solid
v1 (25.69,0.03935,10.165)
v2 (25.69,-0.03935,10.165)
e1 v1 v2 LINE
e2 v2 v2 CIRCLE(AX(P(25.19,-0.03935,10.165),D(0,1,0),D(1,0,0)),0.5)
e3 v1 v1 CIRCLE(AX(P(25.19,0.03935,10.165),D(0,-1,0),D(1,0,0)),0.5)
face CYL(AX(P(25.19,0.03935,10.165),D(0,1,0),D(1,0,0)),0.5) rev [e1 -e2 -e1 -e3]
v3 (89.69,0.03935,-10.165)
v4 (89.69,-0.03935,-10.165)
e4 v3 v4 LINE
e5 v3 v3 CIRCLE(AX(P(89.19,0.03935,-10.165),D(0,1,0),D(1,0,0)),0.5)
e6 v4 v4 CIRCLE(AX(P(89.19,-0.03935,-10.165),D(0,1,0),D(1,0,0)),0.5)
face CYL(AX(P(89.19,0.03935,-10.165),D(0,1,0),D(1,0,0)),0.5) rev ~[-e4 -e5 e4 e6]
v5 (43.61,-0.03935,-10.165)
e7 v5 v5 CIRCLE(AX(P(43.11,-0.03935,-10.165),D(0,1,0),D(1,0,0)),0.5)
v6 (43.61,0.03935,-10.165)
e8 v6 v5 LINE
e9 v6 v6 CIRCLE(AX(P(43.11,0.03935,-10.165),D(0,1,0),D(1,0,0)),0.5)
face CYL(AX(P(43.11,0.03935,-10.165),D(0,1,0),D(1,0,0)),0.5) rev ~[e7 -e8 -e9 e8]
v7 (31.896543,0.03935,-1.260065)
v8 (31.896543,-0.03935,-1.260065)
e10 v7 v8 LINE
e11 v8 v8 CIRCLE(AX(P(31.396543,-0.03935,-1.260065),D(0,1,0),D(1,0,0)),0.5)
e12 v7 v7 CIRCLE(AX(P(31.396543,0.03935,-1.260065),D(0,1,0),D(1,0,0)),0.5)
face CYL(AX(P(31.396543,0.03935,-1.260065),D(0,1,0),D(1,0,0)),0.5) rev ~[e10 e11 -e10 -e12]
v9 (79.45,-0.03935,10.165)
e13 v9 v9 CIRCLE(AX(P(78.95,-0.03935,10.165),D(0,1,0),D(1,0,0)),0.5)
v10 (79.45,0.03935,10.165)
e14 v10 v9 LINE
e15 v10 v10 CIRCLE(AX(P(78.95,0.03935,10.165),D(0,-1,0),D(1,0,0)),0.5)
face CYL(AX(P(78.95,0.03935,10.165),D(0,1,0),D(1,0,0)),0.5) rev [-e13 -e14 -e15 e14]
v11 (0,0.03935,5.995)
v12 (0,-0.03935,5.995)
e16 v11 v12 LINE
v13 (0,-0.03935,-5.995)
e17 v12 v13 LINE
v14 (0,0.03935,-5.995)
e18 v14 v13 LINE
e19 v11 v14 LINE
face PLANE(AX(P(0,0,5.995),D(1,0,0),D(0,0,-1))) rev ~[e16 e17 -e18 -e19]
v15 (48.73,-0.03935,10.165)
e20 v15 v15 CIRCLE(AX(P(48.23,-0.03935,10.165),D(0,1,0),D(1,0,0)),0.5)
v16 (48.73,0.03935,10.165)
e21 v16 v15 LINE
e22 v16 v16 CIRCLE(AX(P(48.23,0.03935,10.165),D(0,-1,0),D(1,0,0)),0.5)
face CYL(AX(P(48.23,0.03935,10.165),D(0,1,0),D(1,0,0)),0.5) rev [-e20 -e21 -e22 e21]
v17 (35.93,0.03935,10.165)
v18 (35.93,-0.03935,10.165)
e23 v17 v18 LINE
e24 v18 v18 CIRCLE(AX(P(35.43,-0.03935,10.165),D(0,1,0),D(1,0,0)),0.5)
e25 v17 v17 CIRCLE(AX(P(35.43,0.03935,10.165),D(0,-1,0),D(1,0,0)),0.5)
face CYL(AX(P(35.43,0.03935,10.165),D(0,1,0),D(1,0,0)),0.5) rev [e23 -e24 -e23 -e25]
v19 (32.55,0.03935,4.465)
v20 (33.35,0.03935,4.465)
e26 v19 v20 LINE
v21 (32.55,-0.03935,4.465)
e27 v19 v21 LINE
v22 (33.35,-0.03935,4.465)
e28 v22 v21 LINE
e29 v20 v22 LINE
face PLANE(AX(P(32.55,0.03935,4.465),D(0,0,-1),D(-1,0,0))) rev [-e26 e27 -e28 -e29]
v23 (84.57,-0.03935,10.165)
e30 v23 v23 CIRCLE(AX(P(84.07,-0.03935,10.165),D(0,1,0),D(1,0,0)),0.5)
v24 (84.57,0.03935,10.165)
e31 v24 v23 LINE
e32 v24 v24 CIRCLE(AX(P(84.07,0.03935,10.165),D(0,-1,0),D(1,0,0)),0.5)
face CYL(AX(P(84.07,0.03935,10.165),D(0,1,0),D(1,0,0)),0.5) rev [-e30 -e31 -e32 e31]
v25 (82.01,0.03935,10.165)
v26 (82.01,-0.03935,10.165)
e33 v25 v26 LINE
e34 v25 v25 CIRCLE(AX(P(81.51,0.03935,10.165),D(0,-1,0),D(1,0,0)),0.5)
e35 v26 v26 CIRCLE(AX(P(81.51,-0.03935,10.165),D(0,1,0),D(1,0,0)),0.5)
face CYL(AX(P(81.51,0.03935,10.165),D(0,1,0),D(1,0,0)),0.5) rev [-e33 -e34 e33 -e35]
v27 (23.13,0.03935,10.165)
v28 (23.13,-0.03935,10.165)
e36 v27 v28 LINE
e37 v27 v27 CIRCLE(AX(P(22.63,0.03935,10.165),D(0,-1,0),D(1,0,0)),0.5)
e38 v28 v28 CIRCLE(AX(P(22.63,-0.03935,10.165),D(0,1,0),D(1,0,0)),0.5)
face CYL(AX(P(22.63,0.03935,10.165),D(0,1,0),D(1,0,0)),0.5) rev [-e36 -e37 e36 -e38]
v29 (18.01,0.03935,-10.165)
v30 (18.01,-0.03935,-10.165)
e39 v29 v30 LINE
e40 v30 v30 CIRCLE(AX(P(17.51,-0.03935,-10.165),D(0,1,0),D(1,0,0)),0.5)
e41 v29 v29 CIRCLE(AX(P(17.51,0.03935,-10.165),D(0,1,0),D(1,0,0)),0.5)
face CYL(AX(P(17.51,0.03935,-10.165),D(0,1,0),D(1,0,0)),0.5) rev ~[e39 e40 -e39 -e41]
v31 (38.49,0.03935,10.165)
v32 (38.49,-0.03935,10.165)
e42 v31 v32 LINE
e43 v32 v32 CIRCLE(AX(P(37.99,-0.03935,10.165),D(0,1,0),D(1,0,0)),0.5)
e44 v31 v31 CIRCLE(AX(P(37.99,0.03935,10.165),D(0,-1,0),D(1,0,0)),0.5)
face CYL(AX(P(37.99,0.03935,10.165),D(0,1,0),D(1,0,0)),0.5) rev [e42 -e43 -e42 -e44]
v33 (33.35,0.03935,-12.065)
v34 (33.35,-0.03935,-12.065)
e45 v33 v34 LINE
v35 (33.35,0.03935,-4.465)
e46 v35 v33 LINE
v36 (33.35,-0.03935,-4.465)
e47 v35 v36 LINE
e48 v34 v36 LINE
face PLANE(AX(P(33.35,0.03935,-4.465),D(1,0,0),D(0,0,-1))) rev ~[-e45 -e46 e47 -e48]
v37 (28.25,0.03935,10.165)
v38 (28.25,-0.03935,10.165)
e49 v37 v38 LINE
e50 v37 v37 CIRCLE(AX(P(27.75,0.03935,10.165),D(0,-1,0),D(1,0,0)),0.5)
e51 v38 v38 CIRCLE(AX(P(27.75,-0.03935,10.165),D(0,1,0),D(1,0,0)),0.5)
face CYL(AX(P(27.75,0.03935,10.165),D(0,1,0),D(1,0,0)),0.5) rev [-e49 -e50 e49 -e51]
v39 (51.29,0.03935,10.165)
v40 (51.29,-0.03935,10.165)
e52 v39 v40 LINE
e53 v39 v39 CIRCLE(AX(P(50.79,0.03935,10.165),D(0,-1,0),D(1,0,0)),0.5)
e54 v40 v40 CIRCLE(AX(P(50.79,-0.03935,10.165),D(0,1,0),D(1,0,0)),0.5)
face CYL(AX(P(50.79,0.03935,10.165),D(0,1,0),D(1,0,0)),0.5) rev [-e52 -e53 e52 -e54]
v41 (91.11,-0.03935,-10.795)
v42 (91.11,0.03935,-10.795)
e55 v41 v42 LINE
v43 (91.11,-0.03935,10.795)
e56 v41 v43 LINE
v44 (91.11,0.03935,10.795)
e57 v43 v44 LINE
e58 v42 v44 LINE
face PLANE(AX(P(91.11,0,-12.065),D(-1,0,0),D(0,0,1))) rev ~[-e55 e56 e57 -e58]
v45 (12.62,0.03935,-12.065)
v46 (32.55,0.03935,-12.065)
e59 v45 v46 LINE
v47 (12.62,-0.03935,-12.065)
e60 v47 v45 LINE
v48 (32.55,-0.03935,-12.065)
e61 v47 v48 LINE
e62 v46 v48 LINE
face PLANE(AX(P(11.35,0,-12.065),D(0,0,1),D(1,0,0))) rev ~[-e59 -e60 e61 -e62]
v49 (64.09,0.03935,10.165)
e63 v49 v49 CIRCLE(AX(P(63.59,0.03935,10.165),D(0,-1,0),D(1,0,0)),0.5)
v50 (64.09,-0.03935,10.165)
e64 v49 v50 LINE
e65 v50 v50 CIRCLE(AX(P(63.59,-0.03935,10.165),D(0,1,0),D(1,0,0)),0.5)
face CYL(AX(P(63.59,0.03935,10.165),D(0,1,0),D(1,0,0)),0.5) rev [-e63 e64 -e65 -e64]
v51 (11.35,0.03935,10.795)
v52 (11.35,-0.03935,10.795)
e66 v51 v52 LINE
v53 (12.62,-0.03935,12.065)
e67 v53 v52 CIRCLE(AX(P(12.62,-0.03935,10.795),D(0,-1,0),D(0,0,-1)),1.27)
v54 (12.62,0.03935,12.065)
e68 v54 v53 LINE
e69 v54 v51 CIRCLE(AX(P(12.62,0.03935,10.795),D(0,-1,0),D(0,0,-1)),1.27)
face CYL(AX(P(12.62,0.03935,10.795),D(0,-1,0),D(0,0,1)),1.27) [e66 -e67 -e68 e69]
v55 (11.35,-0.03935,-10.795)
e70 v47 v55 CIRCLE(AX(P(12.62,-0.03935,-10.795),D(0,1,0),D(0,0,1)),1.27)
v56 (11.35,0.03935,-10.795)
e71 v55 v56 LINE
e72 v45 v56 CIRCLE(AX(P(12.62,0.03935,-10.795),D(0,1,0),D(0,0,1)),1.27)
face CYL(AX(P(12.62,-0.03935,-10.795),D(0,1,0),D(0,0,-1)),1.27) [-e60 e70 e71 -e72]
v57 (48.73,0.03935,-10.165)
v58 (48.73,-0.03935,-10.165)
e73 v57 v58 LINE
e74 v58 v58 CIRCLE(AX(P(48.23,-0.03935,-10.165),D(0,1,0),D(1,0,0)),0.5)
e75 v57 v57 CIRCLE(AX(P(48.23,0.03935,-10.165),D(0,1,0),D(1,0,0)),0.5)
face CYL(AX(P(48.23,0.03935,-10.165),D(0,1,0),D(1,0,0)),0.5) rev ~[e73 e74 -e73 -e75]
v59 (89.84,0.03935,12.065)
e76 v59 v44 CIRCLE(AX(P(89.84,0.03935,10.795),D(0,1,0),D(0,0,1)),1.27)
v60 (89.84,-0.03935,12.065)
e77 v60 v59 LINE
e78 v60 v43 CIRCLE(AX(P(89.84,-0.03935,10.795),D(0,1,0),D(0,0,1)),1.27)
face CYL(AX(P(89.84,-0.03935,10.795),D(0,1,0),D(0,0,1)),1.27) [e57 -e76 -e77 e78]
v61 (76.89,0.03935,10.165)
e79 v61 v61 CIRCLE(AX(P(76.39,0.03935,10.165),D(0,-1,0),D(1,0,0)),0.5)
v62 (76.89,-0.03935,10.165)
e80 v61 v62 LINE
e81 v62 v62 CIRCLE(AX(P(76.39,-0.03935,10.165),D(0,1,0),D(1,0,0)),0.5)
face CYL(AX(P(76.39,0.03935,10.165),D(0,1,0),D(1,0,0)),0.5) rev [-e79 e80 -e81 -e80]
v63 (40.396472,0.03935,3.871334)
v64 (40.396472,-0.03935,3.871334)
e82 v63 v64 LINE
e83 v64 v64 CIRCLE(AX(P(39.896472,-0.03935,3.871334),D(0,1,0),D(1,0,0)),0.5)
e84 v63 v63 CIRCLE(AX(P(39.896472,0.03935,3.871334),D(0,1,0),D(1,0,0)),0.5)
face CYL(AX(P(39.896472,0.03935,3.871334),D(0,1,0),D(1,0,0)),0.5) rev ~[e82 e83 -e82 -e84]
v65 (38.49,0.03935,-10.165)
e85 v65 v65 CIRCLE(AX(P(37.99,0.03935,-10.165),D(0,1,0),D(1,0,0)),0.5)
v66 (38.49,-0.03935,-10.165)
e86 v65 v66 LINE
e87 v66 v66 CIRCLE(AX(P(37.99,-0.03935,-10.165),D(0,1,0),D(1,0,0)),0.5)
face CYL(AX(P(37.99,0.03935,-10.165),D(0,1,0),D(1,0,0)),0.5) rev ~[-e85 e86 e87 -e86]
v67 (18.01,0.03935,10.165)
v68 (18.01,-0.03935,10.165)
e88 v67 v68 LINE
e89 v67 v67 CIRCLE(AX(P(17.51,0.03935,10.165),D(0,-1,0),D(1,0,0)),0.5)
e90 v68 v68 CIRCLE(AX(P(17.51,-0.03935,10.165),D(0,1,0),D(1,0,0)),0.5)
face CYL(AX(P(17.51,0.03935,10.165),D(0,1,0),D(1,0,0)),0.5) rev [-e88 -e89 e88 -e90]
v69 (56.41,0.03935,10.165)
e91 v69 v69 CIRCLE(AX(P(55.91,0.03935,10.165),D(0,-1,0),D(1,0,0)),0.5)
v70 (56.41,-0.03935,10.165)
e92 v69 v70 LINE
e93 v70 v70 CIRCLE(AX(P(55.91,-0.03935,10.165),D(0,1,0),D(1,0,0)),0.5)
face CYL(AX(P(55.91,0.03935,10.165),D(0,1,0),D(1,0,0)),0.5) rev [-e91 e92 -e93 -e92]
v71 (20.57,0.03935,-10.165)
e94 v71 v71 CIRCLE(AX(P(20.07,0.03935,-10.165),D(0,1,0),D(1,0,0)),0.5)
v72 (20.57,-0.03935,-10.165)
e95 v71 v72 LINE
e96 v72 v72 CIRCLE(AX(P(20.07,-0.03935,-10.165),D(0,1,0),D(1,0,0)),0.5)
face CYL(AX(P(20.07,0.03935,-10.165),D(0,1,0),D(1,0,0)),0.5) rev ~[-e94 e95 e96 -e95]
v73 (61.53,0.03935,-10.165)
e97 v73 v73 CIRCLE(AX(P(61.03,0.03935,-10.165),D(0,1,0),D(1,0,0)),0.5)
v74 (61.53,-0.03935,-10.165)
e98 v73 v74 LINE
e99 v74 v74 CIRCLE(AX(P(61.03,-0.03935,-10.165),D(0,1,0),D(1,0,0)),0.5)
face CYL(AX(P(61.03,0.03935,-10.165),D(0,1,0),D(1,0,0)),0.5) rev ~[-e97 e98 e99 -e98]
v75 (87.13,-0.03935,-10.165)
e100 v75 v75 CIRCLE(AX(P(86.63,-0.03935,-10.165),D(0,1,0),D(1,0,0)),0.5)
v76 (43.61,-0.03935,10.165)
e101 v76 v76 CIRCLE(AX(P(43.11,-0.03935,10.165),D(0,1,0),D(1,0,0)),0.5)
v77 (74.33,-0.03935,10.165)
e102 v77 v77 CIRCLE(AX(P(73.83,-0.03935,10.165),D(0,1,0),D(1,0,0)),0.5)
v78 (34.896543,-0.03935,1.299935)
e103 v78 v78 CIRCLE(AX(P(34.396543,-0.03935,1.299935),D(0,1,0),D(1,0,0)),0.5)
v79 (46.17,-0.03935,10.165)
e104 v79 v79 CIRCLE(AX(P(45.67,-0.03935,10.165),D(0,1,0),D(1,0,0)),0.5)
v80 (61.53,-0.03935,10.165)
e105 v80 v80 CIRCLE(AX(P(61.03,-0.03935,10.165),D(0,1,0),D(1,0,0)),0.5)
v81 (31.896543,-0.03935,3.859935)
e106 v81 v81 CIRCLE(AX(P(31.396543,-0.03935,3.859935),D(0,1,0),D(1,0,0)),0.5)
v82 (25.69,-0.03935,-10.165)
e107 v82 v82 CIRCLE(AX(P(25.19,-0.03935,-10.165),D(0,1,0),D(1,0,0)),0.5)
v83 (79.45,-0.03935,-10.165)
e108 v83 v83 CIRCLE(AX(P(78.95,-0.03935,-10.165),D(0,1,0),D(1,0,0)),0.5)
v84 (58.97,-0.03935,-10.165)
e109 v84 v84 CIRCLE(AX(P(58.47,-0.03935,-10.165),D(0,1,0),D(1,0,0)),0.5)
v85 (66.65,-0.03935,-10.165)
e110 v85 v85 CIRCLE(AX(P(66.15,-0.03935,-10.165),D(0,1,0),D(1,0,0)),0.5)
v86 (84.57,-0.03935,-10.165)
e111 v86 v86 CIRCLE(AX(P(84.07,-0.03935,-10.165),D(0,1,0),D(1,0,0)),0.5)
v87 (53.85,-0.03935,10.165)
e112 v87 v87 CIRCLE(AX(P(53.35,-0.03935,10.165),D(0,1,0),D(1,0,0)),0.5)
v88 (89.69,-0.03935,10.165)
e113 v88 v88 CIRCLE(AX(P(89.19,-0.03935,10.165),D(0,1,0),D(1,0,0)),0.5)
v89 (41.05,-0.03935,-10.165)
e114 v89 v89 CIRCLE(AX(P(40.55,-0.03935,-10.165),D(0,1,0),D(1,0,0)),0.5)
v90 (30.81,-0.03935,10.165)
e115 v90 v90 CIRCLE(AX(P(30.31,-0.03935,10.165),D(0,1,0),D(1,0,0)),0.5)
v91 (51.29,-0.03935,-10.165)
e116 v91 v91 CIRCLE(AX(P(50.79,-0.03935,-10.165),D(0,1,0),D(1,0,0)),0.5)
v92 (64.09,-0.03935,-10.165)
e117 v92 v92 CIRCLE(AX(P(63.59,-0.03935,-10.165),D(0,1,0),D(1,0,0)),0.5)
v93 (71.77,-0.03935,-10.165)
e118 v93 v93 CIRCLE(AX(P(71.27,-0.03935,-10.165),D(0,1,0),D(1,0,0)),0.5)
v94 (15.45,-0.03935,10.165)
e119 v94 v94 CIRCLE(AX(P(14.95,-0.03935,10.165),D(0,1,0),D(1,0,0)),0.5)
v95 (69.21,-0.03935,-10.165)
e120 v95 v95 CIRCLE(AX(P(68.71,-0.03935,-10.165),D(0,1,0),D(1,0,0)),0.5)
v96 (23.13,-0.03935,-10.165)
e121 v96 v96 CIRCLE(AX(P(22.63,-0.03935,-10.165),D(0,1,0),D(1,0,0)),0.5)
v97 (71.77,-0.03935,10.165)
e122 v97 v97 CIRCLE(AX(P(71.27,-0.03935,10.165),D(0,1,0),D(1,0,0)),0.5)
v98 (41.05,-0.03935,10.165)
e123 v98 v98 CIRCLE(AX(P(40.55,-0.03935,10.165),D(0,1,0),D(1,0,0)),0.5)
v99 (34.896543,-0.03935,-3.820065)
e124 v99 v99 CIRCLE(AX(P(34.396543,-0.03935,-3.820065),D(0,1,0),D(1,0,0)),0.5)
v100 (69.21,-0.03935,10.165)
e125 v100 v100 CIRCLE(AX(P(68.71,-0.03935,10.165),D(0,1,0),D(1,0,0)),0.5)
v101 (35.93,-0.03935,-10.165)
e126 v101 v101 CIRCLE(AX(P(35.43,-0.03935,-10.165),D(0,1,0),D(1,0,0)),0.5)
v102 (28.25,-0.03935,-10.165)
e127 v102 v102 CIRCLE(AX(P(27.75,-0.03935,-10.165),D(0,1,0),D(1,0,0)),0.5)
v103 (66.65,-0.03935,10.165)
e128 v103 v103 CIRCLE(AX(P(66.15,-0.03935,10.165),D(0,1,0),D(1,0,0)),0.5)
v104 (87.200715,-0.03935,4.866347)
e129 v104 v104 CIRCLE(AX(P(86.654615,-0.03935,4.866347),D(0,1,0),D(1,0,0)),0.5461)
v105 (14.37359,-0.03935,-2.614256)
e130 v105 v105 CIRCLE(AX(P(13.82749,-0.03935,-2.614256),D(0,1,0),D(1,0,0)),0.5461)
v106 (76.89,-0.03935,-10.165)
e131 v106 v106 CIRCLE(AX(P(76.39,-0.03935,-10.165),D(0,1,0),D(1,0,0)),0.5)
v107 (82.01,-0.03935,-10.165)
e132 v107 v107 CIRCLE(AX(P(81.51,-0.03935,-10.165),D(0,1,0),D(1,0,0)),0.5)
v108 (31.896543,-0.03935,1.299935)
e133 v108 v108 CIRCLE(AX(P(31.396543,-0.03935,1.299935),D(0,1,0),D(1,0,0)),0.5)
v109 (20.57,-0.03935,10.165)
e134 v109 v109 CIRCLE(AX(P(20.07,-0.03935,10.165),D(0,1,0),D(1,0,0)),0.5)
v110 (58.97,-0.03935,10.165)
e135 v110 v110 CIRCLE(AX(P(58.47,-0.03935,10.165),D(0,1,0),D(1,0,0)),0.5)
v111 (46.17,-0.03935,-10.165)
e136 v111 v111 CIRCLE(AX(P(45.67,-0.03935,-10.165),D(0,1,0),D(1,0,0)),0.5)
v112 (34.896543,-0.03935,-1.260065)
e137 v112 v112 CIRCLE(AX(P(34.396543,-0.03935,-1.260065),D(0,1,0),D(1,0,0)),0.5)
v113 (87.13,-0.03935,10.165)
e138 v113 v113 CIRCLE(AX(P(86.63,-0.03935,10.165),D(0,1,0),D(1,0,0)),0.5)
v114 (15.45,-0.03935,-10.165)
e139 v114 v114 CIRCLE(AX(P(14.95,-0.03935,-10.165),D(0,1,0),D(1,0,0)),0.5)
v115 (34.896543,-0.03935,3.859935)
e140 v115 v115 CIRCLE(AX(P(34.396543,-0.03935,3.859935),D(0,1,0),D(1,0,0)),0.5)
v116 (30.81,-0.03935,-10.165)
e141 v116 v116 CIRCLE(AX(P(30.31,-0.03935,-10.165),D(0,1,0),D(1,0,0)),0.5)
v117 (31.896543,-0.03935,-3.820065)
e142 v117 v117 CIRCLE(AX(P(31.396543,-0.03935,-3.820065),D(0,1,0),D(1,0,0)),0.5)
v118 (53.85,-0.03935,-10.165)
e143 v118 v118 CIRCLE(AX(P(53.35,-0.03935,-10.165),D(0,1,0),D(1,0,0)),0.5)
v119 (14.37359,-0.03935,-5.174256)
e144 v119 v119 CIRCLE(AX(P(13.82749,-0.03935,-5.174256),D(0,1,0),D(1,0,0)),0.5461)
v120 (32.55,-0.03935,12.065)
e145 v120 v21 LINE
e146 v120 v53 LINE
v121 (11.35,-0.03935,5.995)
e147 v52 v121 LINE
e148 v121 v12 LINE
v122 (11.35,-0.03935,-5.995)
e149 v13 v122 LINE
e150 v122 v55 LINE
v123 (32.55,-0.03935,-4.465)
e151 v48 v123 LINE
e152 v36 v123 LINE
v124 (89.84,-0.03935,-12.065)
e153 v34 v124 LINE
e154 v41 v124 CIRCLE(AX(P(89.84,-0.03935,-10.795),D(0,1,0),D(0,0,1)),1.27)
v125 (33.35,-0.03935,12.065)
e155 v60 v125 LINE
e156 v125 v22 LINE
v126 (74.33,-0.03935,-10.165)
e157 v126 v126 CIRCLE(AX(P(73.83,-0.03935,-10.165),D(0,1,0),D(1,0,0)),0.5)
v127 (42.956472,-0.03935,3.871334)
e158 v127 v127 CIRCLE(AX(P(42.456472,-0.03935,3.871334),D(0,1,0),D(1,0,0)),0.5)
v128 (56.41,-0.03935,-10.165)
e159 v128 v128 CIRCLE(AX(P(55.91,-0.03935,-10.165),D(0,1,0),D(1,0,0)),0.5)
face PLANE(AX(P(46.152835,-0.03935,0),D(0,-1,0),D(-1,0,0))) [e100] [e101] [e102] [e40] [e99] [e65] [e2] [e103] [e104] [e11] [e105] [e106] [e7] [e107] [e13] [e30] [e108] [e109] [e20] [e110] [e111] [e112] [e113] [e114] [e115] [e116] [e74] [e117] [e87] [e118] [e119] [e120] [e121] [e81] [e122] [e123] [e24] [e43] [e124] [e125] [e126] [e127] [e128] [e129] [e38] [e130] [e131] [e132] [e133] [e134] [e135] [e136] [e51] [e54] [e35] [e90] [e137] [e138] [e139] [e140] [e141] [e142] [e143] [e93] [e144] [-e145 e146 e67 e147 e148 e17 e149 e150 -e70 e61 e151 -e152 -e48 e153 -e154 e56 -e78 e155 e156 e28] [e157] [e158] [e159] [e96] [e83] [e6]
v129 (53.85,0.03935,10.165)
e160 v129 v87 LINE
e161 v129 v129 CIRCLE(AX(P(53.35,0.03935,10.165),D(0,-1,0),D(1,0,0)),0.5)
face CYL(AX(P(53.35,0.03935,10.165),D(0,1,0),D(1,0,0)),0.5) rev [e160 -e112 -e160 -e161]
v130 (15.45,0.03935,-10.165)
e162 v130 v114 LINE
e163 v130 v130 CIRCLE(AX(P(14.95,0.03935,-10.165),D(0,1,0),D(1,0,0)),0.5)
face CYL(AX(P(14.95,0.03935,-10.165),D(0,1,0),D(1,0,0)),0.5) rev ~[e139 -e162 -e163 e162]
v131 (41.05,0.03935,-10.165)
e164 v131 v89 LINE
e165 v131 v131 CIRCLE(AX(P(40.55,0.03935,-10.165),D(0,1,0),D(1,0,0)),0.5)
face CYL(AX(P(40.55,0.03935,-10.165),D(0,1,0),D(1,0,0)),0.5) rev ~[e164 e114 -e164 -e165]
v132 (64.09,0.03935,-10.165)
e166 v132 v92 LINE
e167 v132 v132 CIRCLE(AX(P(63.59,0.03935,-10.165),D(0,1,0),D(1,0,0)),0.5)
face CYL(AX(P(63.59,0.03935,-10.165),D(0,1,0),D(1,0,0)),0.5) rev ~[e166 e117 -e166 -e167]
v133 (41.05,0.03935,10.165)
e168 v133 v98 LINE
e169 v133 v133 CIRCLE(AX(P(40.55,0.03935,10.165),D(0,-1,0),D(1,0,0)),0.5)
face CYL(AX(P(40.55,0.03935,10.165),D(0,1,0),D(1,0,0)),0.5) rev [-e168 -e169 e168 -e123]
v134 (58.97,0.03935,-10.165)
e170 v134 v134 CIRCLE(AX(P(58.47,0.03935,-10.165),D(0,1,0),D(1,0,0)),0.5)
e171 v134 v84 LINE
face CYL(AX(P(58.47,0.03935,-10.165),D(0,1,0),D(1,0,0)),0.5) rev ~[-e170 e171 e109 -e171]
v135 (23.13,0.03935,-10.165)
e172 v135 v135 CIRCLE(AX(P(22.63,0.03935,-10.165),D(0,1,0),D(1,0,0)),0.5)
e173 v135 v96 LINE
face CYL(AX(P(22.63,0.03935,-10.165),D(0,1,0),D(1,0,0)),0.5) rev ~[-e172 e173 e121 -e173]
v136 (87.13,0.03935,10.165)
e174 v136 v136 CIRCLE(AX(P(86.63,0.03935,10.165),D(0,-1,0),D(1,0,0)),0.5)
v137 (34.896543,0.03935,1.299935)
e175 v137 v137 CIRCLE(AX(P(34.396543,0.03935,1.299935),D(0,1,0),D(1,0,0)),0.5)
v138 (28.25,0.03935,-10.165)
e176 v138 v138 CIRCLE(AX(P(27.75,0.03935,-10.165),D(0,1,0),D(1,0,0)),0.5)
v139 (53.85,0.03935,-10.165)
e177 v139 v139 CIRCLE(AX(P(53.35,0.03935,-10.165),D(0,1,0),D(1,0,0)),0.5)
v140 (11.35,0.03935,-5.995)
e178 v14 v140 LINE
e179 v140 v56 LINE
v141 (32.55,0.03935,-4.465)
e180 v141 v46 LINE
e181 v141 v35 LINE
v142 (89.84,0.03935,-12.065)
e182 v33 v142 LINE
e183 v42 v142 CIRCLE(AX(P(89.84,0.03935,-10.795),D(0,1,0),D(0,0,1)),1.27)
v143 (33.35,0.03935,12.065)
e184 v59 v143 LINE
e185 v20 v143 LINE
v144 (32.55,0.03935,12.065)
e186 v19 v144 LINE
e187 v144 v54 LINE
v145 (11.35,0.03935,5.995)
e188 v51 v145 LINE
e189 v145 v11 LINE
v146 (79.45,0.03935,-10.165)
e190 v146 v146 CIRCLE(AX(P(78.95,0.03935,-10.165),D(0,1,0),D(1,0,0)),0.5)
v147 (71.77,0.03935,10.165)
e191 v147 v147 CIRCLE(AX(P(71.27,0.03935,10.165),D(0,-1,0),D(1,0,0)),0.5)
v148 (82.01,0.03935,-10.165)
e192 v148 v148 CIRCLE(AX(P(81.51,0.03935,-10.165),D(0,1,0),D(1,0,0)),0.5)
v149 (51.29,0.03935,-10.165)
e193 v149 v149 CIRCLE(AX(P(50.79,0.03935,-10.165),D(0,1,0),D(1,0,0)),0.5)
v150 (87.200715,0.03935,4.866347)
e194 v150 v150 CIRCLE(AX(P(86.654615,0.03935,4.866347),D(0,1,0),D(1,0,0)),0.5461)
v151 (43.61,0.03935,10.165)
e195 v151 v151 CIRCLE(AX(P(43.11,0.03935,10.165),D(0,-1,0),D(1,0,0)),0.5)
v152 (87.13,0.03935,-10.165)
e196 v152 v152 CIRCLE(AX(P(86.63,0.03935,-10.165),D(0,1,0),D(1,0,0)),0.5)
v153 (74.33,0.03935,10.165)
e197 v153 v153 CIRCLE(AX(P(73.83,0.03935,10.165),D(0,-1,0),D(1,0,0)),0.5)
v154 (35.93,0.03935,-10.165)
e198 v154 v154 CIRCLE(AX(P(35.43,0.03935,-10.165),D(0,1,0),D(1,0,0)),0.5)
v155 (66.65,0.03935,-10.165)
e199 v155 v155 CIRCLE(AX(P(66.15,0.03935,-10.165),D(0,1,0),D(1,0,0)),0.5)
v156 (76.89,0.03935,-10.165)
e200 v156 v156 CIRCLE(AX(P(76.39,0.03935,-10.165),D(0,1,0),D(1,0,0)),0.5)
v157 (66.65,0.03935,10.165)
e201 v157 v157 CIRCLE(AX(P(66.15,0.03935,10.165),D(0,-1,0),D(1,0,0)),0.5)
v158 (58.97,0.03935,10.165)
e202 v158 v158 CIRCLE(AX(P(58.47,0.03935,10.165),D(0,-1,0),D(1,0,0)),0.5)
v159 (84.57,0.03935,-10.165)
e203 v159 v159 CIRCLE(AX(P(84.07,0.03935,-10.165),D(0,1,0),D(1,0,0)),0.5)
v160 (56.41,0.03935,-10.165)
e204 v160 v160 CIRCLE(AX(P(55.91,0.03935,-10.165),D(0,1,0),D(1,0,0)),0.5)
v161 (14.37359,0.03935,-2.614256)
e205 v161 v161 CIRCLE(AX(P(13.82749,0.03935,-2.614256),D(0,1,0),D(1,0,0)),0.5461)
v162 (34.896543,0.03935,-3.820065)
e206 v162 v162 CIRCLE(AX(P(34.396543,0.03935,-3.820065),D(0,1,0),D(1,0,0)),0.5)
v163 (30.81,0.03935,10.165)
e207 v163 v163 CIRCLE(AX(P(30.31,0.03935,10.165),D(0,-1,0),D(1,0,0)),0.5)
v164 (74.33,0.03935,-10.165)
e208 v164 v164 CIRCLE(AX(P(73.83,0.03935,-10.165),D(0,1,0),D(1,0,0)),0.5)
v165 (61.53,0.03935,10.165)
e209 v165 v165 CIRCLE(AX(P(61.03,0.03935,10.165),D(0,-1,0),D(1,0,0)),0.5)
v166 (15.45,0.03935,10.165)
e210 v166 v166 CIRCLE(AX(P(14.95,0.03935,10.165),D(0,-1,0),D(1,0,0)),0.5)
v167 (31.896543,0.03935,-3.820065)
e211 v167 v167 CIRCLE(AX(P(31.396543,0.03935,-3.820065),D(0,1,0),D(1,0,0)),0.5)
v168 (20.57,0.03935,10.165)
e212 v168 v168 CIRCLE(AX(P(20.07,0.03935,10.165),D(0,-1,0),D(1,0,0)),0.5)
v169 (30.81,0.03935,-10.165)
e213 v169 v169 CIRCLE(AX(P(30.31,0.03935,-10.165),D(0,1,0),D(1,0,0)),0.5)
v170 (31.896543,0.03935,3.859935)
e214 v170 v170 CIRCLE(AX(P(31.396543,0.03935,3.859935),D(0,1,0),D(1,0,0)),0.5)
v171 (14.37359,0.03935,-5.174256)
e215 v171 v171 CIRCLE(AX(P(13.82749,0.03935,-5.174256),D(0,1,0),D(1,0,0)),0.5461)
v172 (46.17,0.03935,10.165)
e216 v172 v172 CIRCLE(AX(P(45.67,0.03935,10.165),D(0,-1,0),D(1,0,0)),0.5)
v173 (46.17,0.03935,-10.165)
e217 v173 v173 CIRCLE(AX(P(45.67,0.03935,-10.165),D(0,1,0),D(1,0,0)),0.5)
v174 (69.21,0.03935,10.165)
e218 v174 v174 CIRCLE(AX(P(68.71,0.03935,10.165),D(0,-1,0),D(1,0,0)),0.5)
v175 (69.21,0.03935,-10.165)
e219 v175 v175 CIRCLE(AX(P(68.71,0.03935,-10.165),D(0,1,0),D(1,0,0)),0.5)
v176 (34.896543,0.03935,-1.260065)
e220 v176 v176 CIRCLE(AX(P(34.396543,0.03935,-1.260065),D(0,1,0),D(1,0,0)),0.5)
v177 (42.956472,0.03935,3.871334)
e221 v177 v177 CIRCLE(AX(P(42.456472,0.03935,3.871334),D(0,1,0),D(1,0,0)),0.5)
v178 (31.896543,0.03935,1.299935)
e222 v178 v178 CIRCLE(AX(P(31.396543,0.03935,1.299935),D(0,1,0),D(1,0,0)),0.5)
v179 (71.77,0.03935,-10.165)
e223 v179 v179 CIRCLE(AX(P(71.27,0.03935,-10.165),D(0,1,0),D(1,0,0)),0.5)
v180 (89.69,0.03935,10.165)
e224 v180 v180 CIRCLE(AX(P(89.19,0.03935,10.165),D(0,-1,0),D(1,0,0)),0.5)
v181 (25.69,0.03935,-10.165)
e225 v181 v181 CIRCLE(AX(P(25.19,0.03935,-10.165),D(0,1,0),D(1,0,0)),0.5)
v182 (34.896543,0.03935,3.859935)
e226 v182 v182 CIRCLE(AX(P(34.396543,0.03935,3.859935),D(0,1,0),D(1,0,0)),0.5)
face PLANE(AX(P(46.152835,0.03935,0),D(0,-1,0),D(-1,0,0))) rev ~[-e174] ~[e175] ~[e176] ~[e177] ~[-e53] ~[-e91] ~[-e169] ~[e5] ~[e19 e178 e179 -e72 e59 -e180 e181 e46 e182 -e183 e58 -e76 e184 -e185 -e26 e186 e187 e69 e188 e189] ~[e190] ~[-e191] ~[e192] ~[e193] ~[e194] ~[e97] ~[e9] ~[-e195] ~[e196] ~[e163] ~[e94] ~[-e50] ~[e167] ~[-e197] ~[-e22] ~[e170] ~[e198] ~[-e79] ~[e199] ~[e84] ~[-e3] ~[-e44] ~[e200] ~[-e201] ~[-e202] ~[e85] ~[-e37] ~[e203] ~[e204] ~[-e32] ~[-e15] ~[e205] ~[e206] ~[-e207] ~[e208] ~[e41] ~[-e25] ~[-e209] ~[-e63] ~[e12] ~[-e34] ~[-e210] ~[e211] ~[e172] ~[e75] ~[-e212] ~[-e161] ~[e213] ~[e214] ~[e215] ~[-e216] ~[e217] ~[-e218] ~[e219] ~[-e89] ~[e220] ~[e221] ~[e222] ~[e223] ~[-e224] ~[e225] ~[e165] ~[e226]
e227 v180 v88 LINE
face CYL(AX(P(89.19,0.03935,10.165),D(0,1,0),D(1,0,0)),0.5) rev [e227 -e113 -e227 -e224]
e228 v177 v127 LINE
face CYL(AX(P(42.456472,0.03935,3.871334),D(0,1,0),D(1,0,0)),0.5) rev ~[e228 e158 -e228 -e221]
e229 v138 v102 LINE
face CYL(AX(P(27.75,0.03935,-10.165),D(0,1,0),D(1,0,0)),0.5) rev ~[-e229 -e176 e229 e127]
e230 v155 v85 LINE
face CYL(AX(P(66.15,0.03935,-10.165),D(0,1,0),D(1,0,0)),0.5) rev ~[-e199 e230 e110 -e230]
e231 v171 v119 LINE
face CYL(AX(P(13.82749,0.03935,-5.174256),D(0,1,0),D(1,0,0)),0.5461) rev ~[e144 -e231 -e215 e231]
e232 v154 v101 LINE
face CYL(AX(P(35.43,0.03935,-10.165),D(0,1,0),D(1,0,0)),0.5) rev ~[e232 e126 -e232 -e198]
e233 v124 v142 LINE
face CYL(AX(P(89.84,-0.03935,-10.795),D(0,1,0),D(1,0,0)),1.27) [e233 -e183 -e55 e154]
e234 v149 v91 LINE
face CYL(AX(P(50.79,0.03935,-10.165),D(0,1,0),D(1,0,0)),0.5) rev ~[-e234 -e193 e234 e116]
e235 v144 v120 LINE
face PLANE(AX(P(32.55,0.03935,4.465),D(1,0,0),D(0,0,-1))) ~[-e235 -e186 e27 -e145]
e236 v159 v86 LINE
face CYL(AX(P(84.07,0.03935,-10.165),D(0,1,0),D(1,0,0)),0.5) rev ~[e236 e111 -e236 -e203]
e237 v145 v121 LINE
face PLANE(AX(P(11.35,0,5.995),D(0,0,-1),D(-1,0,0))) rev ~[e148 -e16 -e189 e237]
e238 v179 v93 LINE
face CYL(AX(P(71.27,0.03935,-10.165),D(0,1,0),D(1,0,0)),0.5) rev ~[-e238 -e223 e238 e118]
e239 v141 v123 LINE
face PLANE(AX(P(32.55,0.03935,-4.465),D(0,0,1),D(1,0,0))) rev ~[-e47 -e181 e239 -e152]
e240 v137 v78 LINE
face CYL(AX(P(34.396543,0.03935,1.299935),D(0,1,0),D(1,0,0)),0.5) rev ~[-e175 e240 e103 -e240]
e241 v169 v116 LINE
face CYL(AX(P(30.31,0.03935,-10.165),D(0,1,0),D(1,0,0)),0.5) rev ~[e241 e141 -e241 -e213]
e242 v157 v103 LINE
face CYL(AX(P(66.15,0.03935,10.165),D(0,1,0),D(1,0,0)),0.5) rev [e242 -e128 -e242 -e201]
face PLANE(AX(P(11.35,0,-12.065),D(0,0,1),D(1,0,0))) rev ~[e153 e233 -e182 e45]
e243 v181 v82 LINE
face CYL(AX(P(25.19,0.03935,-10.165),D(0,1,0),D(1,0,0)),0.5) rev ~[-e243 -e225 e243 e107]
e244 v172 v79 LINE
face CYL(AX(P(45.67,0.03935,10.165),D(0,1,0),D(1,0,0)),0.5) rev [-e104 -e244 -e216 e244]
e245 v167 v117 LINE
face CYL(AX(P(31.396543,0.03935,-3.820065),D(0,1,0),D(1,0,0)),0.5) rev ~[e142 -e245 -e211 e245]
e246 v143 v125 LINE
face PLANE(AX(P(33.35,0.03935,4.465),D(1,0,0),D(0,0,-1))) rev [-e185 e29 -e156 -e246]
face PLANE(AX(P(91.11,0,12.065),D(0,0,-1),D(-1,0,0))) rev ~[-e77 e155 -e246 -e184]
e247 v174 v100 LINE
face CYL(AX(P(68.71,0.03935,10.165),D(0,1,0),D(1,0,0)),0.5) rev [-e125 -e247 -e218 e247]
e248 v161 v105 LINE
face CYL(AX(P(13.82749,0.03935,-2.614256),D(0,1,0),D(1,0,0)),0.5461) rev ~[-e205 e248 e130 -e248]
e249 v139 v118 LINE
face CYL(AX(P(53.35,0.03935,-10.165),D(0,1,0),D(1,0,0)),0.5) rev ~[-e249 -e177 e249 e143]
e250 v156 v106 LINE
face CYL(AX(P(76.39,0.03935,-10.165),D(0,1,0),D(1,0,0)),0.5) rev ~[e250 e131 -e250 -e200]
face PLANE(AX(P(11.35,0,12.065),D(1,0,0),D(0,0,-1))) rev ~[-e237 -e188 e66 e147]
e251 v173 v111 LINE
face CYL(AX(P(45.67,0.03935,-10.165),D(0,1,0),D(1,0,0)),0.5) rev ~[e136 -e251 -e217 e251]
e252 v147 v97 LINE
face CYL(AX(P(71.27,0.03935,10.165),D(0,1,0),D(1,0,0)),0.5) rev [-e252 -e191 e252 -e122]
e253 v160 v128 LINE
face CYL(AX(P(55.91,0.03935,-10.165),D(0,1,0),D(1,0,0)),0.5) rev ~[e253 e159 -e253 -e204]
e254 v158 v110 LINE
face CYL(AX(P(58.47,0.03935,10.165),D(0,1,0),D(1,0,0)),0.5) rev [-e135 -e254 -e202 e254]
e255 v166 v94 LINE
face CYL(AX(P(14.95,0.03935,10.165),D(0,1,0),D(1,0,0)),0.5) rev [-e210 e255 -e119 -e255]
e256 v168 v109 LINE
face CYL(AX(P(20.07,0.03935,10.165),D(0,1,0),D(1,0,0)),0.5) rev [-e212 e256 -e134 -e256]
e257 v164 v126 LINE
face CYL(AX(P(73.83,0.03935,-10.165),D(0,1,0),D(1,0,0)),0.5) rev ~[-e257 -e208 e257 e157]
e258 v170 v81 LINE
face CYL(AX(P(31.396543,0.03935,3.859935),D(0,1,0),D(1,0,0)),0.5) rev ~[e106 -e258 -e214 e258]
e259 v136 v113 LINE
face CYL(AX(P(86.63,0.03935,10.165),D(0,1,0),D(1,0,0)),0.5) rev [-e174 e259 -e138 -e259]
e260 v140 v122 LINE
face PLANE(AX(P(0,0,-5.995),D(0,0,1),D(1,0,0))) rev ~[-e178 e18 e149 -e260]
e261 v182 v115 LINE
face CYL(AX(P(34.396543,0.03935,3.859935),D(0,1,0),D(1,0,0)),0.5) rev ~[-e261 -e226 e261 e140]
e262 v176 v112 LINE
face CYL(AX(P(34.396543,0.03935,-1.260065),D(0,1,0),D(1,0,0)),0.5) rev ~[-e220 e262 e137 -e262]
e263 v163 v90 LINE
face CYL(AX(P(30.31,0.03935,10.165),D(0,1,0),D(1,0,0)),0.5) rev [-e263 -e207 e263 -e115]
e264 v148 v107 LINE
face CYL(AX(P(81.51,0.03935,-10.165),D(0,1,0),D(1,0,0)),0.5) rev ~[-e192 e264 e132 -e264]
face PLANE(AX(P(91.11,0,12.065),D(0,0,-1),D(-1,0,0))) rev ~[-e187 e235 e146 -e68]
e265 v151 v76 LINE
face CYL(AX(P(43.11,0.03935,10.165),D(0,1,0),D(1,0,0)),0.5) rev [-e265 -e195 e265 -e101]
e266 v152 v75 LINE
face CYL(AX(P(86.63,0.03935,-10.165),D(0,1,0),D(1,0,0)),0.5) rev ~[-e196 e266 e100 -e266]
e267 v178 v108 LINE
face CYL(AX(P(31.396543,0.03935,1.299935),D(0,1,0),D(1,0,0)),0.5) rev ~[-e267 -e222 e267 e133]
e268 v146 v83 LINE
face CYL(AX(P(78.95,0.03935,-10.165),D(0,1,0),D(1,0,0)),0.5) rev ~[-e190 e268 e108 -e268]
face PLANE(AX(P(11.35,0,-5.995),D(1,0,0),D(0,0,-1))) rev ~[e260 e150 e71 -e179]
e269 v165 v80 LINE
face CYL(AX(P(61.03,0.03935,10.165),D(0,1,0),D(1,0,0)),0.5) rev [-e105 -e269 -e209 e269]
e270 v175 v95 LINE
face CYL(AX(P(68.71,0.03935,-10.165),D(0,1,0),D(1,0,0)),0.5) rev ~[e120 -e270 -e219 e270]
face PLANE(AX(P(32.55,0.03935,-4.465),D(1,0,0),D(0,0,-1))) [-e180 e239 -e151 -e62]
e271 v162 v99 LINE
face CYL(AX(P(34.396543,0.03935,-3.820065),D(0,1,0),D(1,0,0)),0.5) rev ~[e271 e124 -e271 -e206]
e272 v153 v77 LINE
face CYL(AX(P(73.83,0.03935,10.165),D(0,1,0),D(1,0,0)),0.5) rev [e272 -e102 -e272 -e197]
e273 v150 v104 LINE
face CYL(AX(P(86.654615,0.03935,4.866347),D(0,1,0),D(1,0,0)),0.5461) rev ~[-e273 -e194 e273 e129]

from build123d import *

# Parameters (mm, degrees)
BOSS_EXTRUDE1_DEPTH = 0.03935
SKETCH2_R           = 0.5
CUT_EXTRUDE1_DEPTH  = 1.0787
SKETCH3_R           = 0.5
CUT_EXTRUDE2_DEPTH  = 1.0787
SKETCH4_R           = 0.5
CUT_EXTRUDE3_DEPTH  = 1.0787
SKETCH5_W           = 0.8
SKETCH5_H           = 7.6
CUT_EXTRUDE4_DEPTH  = 1.0787
SKETCH6_R           = 0.5461
CUT_EXTRUDE5_DEPTH  = 1.0787
SKETCH7_R           = 0.5461
CUT_EXTRUDE6_DEPTH  = 1.0787
FILLET1_R           = 1.27


with BuildPart() as part:
    # Sketch1 → Boss-Extrude1 (new body, symmetric)
    with BuildSketch(Plane(origin=(0, 0, 0), x_dir=(1, 0, 0), z_dir=(0, 1, 0))):
        Polygon((91.11, -12.065), (11.35, -12.065), (11.35, -5.995), (0, -5.995), (0, 5.995), (11.35, 5.995), (11.35, 12.065), (91.11, 12.065), align=None)
    extrude(amount=BOSS_EXTRUDE1_DEPTH, both=True)

    # Sketch2 → Cut-Extrude1 (cut, through all)
    with BuildSketch(Plane(origin=(0, 0.03935, 0), x_dir=(1, 0, 0), z_dir=(0, 1, 0))):
        with Locations((14.95, 10.165)):
            Circle(SKETCH2_R)
        with Locations((17.51, 10.165)):
            Circle(SKETCH2_R)
        with Locations((20.07, 10.165)):
            Circle(SKETCH2_R)
        with Locations((22.63, 10.165)):
            Circle(SKETCH2_R)
        with Locations((25.19, 10.165)):
            Circle(SKETCH2_R)
        with Locations((27.75, 10.165)):
            Circle(SKETCH2_R)
        with Locations((30.31, 10.165)):
            Circle(SKETCH2_R)
        with Locations((35.43, 10.165)):
            Circle(SKETCH2_R)
        with Locations((37.99, 10.165)):
            Circle(SKETCH2_R)
        with Locations((40.55, 10.165)):
            Circle(SKETCH2_R)
        with Locations((43.11, 10.165)):
            Circle(SKETCH2_R)
        with Locations((45.67, 10.165)):
            Circle(SKETCH2_R)
        with Locations((48.23, 10.165)):
            Circle(SKETCH2_R)
        with Locations((50.79, 10.165)):
            Circle(SKETCH2_R)
        with Locations((53.35, 10.165)):
            Circle(SKETCH2_R)
        with Locations((55.91, 10.165)):
            Circle(SKETCH2_R)
        with Locations((58.47, 10.165)):
            Circle(SKETCH2_R)
        with Locations((61.03, 10.165)):
            Circle(SKETCH2_R)
        with Locations((63.59, 10.165)):
            Circle(SKETCH2_R)
        with Locations((66.15, 10.165)):
            Circle(SKETCH2_R)
        with Locations((68.71, 10.165)):
            Circle(SKETCH2_R)
        with Locations((71.27, 10.165)):
            Circle(SKETCH2_R)
        with Locations((73.83, 10.165)):
            Circle(SKETCH2_R)
        with Locations((76.39, 10.165)):
            Circle(SKETCH2_R)
        with Locations((78.95, 10.165)):
            Circle(SKETCH2_R)
        with Locations((81.51, 10.165)):
            Circle(SKETCH2_R)
        with Locations((84.07, 10.165)):
            Circle(SKETCH2_R)
        with Locations((86.63, 10.165)):
            Circle(SKETCH2_R)
        with Locations((89.19, 10.165)):
            Circle(SKETCH2_R)
    cut_extrude1 = extrude(amount=-CUT_EXTRUDE1_DEPTH, mode=Mode.SUBTRACT)

    # Mirror1: Cut-Extrude1 across plane
    add(cut_extrude1.mirror(Plane.XY), mode=Mode.SUBTRACT)

    # Sketch3 → Cut-Extrude2 (cut, through all)
    with BuildSketch(Plane(origin=(0, 0.03935, 0), x_dir=(1, 0, 0), z_dir=(0, 1, 0))):
        with Locations((31.396543447, 3.82006498)):
            Circle(SKETCH3_R)
        with Locations((34.396543447, 3.82006498)):
            Circle(SKETCH3_R)
        with Locations((34.396543447, 1.26006498)):
            Circle(SKETCH3_R)
        with Locations((34.396543447, -1.29993502)):
            Circle(SKETCH3_R)
        with Locations((34.396543447, -3.85993502)):
            Circle(SKETCH3_R)
        with Locations((31.396543447, 1.26006498)):
            Circle(SKETCH3_R)
        with Locations((31.396543447, -1.29993502)):
            Circle(SKETCH3_R)
        with Locations((31.396543447, -3.85993502)):
            Circle(SKETCH3_R)
    extrude(amount=-CUT_EXTRUDE2_DEPTH, mode=Mode.SUBTRACT)

    # Sketch4 → Cut-Extrude3 (cut, through all)
    with BuildSketch(Plane(origin=(0, 0.03935, 0), x_dir=(1, 0, 0), z_dir=(0, 1, 0))):
        with Locations((39.896471903, -3.871334333)):
            Circle(SKETCH4_R)
        with Locations((42.456471903, -3.871334333)):
            Circle(SKETCH4_R)
    extrude(amount=-CUT_EXTRUDE3_DEPTH, mode=Mode.SUBTRACT)

    # Sketch5 → Cut-Extrude4 (cut, through all)
    with BuildSketch(Plane(origin=(0, 0.03935, 0), x_dir=(1, 0, 0), z_dir=(0, 1, 0))):
        with Locations((32.95, 8.265)):
            Rectangle(SKETCH5_W, SKETCH5_H)
    cut_extrude4 = extrude(amount=-CUT_EXTRUDE4_DEPTH, mode=Mode.SUBTRACT)

    # Mirror2: Cut-Extrude4 across plane
    add(cut_extrude4.mirror(Plane.XY), mode=Mode.SUBTRACT)

    # Sketch6 → Cut-Extrude5 (cut, through all)
    with BuildSketch(Plane(origin=(0, 0.03935, 0), x_dir=(1, 0, 0), z_dir=(0, 1, 0))):
        with Locations((13.827489542, 5.174256262)):
            Circle(SKETCH6_R)
        with Locations((13.827489542, 2.614256262)):
            Circle(SKETCH6_R)
    extrude(amount=-CUT_EXTRUDE5_DEPTH, mode=Mode.SUBTRACT)

    # Sketch7 → Cut-Extrude6 (cut, through all)
    with BuildSketch(Plane(origin=(0, 0.03935, 0), x_dir=(1, 0, 0), z_dir=(0, 1, 0))):
        with Locations((86.654615346, -4.866346519)):
            Circle(SKETCH7_R)
    extrude(amount=-CUT_EXTRUDE6_DEPTH, mode=Mode.SUBTRACT)

    # Fillet1
    fillet1_edges = [part.edges().sort_by_distance(p)[0] for p in [
        (11.35, 0, -12.065),
        (91.11, 0, -12.065),
        (91.11, 0, 12.065),
        (11.35, 0, 12.065),
    ]]
    fillet(fillet1_edges, radius=FILLET1_R)


solid = part.part
